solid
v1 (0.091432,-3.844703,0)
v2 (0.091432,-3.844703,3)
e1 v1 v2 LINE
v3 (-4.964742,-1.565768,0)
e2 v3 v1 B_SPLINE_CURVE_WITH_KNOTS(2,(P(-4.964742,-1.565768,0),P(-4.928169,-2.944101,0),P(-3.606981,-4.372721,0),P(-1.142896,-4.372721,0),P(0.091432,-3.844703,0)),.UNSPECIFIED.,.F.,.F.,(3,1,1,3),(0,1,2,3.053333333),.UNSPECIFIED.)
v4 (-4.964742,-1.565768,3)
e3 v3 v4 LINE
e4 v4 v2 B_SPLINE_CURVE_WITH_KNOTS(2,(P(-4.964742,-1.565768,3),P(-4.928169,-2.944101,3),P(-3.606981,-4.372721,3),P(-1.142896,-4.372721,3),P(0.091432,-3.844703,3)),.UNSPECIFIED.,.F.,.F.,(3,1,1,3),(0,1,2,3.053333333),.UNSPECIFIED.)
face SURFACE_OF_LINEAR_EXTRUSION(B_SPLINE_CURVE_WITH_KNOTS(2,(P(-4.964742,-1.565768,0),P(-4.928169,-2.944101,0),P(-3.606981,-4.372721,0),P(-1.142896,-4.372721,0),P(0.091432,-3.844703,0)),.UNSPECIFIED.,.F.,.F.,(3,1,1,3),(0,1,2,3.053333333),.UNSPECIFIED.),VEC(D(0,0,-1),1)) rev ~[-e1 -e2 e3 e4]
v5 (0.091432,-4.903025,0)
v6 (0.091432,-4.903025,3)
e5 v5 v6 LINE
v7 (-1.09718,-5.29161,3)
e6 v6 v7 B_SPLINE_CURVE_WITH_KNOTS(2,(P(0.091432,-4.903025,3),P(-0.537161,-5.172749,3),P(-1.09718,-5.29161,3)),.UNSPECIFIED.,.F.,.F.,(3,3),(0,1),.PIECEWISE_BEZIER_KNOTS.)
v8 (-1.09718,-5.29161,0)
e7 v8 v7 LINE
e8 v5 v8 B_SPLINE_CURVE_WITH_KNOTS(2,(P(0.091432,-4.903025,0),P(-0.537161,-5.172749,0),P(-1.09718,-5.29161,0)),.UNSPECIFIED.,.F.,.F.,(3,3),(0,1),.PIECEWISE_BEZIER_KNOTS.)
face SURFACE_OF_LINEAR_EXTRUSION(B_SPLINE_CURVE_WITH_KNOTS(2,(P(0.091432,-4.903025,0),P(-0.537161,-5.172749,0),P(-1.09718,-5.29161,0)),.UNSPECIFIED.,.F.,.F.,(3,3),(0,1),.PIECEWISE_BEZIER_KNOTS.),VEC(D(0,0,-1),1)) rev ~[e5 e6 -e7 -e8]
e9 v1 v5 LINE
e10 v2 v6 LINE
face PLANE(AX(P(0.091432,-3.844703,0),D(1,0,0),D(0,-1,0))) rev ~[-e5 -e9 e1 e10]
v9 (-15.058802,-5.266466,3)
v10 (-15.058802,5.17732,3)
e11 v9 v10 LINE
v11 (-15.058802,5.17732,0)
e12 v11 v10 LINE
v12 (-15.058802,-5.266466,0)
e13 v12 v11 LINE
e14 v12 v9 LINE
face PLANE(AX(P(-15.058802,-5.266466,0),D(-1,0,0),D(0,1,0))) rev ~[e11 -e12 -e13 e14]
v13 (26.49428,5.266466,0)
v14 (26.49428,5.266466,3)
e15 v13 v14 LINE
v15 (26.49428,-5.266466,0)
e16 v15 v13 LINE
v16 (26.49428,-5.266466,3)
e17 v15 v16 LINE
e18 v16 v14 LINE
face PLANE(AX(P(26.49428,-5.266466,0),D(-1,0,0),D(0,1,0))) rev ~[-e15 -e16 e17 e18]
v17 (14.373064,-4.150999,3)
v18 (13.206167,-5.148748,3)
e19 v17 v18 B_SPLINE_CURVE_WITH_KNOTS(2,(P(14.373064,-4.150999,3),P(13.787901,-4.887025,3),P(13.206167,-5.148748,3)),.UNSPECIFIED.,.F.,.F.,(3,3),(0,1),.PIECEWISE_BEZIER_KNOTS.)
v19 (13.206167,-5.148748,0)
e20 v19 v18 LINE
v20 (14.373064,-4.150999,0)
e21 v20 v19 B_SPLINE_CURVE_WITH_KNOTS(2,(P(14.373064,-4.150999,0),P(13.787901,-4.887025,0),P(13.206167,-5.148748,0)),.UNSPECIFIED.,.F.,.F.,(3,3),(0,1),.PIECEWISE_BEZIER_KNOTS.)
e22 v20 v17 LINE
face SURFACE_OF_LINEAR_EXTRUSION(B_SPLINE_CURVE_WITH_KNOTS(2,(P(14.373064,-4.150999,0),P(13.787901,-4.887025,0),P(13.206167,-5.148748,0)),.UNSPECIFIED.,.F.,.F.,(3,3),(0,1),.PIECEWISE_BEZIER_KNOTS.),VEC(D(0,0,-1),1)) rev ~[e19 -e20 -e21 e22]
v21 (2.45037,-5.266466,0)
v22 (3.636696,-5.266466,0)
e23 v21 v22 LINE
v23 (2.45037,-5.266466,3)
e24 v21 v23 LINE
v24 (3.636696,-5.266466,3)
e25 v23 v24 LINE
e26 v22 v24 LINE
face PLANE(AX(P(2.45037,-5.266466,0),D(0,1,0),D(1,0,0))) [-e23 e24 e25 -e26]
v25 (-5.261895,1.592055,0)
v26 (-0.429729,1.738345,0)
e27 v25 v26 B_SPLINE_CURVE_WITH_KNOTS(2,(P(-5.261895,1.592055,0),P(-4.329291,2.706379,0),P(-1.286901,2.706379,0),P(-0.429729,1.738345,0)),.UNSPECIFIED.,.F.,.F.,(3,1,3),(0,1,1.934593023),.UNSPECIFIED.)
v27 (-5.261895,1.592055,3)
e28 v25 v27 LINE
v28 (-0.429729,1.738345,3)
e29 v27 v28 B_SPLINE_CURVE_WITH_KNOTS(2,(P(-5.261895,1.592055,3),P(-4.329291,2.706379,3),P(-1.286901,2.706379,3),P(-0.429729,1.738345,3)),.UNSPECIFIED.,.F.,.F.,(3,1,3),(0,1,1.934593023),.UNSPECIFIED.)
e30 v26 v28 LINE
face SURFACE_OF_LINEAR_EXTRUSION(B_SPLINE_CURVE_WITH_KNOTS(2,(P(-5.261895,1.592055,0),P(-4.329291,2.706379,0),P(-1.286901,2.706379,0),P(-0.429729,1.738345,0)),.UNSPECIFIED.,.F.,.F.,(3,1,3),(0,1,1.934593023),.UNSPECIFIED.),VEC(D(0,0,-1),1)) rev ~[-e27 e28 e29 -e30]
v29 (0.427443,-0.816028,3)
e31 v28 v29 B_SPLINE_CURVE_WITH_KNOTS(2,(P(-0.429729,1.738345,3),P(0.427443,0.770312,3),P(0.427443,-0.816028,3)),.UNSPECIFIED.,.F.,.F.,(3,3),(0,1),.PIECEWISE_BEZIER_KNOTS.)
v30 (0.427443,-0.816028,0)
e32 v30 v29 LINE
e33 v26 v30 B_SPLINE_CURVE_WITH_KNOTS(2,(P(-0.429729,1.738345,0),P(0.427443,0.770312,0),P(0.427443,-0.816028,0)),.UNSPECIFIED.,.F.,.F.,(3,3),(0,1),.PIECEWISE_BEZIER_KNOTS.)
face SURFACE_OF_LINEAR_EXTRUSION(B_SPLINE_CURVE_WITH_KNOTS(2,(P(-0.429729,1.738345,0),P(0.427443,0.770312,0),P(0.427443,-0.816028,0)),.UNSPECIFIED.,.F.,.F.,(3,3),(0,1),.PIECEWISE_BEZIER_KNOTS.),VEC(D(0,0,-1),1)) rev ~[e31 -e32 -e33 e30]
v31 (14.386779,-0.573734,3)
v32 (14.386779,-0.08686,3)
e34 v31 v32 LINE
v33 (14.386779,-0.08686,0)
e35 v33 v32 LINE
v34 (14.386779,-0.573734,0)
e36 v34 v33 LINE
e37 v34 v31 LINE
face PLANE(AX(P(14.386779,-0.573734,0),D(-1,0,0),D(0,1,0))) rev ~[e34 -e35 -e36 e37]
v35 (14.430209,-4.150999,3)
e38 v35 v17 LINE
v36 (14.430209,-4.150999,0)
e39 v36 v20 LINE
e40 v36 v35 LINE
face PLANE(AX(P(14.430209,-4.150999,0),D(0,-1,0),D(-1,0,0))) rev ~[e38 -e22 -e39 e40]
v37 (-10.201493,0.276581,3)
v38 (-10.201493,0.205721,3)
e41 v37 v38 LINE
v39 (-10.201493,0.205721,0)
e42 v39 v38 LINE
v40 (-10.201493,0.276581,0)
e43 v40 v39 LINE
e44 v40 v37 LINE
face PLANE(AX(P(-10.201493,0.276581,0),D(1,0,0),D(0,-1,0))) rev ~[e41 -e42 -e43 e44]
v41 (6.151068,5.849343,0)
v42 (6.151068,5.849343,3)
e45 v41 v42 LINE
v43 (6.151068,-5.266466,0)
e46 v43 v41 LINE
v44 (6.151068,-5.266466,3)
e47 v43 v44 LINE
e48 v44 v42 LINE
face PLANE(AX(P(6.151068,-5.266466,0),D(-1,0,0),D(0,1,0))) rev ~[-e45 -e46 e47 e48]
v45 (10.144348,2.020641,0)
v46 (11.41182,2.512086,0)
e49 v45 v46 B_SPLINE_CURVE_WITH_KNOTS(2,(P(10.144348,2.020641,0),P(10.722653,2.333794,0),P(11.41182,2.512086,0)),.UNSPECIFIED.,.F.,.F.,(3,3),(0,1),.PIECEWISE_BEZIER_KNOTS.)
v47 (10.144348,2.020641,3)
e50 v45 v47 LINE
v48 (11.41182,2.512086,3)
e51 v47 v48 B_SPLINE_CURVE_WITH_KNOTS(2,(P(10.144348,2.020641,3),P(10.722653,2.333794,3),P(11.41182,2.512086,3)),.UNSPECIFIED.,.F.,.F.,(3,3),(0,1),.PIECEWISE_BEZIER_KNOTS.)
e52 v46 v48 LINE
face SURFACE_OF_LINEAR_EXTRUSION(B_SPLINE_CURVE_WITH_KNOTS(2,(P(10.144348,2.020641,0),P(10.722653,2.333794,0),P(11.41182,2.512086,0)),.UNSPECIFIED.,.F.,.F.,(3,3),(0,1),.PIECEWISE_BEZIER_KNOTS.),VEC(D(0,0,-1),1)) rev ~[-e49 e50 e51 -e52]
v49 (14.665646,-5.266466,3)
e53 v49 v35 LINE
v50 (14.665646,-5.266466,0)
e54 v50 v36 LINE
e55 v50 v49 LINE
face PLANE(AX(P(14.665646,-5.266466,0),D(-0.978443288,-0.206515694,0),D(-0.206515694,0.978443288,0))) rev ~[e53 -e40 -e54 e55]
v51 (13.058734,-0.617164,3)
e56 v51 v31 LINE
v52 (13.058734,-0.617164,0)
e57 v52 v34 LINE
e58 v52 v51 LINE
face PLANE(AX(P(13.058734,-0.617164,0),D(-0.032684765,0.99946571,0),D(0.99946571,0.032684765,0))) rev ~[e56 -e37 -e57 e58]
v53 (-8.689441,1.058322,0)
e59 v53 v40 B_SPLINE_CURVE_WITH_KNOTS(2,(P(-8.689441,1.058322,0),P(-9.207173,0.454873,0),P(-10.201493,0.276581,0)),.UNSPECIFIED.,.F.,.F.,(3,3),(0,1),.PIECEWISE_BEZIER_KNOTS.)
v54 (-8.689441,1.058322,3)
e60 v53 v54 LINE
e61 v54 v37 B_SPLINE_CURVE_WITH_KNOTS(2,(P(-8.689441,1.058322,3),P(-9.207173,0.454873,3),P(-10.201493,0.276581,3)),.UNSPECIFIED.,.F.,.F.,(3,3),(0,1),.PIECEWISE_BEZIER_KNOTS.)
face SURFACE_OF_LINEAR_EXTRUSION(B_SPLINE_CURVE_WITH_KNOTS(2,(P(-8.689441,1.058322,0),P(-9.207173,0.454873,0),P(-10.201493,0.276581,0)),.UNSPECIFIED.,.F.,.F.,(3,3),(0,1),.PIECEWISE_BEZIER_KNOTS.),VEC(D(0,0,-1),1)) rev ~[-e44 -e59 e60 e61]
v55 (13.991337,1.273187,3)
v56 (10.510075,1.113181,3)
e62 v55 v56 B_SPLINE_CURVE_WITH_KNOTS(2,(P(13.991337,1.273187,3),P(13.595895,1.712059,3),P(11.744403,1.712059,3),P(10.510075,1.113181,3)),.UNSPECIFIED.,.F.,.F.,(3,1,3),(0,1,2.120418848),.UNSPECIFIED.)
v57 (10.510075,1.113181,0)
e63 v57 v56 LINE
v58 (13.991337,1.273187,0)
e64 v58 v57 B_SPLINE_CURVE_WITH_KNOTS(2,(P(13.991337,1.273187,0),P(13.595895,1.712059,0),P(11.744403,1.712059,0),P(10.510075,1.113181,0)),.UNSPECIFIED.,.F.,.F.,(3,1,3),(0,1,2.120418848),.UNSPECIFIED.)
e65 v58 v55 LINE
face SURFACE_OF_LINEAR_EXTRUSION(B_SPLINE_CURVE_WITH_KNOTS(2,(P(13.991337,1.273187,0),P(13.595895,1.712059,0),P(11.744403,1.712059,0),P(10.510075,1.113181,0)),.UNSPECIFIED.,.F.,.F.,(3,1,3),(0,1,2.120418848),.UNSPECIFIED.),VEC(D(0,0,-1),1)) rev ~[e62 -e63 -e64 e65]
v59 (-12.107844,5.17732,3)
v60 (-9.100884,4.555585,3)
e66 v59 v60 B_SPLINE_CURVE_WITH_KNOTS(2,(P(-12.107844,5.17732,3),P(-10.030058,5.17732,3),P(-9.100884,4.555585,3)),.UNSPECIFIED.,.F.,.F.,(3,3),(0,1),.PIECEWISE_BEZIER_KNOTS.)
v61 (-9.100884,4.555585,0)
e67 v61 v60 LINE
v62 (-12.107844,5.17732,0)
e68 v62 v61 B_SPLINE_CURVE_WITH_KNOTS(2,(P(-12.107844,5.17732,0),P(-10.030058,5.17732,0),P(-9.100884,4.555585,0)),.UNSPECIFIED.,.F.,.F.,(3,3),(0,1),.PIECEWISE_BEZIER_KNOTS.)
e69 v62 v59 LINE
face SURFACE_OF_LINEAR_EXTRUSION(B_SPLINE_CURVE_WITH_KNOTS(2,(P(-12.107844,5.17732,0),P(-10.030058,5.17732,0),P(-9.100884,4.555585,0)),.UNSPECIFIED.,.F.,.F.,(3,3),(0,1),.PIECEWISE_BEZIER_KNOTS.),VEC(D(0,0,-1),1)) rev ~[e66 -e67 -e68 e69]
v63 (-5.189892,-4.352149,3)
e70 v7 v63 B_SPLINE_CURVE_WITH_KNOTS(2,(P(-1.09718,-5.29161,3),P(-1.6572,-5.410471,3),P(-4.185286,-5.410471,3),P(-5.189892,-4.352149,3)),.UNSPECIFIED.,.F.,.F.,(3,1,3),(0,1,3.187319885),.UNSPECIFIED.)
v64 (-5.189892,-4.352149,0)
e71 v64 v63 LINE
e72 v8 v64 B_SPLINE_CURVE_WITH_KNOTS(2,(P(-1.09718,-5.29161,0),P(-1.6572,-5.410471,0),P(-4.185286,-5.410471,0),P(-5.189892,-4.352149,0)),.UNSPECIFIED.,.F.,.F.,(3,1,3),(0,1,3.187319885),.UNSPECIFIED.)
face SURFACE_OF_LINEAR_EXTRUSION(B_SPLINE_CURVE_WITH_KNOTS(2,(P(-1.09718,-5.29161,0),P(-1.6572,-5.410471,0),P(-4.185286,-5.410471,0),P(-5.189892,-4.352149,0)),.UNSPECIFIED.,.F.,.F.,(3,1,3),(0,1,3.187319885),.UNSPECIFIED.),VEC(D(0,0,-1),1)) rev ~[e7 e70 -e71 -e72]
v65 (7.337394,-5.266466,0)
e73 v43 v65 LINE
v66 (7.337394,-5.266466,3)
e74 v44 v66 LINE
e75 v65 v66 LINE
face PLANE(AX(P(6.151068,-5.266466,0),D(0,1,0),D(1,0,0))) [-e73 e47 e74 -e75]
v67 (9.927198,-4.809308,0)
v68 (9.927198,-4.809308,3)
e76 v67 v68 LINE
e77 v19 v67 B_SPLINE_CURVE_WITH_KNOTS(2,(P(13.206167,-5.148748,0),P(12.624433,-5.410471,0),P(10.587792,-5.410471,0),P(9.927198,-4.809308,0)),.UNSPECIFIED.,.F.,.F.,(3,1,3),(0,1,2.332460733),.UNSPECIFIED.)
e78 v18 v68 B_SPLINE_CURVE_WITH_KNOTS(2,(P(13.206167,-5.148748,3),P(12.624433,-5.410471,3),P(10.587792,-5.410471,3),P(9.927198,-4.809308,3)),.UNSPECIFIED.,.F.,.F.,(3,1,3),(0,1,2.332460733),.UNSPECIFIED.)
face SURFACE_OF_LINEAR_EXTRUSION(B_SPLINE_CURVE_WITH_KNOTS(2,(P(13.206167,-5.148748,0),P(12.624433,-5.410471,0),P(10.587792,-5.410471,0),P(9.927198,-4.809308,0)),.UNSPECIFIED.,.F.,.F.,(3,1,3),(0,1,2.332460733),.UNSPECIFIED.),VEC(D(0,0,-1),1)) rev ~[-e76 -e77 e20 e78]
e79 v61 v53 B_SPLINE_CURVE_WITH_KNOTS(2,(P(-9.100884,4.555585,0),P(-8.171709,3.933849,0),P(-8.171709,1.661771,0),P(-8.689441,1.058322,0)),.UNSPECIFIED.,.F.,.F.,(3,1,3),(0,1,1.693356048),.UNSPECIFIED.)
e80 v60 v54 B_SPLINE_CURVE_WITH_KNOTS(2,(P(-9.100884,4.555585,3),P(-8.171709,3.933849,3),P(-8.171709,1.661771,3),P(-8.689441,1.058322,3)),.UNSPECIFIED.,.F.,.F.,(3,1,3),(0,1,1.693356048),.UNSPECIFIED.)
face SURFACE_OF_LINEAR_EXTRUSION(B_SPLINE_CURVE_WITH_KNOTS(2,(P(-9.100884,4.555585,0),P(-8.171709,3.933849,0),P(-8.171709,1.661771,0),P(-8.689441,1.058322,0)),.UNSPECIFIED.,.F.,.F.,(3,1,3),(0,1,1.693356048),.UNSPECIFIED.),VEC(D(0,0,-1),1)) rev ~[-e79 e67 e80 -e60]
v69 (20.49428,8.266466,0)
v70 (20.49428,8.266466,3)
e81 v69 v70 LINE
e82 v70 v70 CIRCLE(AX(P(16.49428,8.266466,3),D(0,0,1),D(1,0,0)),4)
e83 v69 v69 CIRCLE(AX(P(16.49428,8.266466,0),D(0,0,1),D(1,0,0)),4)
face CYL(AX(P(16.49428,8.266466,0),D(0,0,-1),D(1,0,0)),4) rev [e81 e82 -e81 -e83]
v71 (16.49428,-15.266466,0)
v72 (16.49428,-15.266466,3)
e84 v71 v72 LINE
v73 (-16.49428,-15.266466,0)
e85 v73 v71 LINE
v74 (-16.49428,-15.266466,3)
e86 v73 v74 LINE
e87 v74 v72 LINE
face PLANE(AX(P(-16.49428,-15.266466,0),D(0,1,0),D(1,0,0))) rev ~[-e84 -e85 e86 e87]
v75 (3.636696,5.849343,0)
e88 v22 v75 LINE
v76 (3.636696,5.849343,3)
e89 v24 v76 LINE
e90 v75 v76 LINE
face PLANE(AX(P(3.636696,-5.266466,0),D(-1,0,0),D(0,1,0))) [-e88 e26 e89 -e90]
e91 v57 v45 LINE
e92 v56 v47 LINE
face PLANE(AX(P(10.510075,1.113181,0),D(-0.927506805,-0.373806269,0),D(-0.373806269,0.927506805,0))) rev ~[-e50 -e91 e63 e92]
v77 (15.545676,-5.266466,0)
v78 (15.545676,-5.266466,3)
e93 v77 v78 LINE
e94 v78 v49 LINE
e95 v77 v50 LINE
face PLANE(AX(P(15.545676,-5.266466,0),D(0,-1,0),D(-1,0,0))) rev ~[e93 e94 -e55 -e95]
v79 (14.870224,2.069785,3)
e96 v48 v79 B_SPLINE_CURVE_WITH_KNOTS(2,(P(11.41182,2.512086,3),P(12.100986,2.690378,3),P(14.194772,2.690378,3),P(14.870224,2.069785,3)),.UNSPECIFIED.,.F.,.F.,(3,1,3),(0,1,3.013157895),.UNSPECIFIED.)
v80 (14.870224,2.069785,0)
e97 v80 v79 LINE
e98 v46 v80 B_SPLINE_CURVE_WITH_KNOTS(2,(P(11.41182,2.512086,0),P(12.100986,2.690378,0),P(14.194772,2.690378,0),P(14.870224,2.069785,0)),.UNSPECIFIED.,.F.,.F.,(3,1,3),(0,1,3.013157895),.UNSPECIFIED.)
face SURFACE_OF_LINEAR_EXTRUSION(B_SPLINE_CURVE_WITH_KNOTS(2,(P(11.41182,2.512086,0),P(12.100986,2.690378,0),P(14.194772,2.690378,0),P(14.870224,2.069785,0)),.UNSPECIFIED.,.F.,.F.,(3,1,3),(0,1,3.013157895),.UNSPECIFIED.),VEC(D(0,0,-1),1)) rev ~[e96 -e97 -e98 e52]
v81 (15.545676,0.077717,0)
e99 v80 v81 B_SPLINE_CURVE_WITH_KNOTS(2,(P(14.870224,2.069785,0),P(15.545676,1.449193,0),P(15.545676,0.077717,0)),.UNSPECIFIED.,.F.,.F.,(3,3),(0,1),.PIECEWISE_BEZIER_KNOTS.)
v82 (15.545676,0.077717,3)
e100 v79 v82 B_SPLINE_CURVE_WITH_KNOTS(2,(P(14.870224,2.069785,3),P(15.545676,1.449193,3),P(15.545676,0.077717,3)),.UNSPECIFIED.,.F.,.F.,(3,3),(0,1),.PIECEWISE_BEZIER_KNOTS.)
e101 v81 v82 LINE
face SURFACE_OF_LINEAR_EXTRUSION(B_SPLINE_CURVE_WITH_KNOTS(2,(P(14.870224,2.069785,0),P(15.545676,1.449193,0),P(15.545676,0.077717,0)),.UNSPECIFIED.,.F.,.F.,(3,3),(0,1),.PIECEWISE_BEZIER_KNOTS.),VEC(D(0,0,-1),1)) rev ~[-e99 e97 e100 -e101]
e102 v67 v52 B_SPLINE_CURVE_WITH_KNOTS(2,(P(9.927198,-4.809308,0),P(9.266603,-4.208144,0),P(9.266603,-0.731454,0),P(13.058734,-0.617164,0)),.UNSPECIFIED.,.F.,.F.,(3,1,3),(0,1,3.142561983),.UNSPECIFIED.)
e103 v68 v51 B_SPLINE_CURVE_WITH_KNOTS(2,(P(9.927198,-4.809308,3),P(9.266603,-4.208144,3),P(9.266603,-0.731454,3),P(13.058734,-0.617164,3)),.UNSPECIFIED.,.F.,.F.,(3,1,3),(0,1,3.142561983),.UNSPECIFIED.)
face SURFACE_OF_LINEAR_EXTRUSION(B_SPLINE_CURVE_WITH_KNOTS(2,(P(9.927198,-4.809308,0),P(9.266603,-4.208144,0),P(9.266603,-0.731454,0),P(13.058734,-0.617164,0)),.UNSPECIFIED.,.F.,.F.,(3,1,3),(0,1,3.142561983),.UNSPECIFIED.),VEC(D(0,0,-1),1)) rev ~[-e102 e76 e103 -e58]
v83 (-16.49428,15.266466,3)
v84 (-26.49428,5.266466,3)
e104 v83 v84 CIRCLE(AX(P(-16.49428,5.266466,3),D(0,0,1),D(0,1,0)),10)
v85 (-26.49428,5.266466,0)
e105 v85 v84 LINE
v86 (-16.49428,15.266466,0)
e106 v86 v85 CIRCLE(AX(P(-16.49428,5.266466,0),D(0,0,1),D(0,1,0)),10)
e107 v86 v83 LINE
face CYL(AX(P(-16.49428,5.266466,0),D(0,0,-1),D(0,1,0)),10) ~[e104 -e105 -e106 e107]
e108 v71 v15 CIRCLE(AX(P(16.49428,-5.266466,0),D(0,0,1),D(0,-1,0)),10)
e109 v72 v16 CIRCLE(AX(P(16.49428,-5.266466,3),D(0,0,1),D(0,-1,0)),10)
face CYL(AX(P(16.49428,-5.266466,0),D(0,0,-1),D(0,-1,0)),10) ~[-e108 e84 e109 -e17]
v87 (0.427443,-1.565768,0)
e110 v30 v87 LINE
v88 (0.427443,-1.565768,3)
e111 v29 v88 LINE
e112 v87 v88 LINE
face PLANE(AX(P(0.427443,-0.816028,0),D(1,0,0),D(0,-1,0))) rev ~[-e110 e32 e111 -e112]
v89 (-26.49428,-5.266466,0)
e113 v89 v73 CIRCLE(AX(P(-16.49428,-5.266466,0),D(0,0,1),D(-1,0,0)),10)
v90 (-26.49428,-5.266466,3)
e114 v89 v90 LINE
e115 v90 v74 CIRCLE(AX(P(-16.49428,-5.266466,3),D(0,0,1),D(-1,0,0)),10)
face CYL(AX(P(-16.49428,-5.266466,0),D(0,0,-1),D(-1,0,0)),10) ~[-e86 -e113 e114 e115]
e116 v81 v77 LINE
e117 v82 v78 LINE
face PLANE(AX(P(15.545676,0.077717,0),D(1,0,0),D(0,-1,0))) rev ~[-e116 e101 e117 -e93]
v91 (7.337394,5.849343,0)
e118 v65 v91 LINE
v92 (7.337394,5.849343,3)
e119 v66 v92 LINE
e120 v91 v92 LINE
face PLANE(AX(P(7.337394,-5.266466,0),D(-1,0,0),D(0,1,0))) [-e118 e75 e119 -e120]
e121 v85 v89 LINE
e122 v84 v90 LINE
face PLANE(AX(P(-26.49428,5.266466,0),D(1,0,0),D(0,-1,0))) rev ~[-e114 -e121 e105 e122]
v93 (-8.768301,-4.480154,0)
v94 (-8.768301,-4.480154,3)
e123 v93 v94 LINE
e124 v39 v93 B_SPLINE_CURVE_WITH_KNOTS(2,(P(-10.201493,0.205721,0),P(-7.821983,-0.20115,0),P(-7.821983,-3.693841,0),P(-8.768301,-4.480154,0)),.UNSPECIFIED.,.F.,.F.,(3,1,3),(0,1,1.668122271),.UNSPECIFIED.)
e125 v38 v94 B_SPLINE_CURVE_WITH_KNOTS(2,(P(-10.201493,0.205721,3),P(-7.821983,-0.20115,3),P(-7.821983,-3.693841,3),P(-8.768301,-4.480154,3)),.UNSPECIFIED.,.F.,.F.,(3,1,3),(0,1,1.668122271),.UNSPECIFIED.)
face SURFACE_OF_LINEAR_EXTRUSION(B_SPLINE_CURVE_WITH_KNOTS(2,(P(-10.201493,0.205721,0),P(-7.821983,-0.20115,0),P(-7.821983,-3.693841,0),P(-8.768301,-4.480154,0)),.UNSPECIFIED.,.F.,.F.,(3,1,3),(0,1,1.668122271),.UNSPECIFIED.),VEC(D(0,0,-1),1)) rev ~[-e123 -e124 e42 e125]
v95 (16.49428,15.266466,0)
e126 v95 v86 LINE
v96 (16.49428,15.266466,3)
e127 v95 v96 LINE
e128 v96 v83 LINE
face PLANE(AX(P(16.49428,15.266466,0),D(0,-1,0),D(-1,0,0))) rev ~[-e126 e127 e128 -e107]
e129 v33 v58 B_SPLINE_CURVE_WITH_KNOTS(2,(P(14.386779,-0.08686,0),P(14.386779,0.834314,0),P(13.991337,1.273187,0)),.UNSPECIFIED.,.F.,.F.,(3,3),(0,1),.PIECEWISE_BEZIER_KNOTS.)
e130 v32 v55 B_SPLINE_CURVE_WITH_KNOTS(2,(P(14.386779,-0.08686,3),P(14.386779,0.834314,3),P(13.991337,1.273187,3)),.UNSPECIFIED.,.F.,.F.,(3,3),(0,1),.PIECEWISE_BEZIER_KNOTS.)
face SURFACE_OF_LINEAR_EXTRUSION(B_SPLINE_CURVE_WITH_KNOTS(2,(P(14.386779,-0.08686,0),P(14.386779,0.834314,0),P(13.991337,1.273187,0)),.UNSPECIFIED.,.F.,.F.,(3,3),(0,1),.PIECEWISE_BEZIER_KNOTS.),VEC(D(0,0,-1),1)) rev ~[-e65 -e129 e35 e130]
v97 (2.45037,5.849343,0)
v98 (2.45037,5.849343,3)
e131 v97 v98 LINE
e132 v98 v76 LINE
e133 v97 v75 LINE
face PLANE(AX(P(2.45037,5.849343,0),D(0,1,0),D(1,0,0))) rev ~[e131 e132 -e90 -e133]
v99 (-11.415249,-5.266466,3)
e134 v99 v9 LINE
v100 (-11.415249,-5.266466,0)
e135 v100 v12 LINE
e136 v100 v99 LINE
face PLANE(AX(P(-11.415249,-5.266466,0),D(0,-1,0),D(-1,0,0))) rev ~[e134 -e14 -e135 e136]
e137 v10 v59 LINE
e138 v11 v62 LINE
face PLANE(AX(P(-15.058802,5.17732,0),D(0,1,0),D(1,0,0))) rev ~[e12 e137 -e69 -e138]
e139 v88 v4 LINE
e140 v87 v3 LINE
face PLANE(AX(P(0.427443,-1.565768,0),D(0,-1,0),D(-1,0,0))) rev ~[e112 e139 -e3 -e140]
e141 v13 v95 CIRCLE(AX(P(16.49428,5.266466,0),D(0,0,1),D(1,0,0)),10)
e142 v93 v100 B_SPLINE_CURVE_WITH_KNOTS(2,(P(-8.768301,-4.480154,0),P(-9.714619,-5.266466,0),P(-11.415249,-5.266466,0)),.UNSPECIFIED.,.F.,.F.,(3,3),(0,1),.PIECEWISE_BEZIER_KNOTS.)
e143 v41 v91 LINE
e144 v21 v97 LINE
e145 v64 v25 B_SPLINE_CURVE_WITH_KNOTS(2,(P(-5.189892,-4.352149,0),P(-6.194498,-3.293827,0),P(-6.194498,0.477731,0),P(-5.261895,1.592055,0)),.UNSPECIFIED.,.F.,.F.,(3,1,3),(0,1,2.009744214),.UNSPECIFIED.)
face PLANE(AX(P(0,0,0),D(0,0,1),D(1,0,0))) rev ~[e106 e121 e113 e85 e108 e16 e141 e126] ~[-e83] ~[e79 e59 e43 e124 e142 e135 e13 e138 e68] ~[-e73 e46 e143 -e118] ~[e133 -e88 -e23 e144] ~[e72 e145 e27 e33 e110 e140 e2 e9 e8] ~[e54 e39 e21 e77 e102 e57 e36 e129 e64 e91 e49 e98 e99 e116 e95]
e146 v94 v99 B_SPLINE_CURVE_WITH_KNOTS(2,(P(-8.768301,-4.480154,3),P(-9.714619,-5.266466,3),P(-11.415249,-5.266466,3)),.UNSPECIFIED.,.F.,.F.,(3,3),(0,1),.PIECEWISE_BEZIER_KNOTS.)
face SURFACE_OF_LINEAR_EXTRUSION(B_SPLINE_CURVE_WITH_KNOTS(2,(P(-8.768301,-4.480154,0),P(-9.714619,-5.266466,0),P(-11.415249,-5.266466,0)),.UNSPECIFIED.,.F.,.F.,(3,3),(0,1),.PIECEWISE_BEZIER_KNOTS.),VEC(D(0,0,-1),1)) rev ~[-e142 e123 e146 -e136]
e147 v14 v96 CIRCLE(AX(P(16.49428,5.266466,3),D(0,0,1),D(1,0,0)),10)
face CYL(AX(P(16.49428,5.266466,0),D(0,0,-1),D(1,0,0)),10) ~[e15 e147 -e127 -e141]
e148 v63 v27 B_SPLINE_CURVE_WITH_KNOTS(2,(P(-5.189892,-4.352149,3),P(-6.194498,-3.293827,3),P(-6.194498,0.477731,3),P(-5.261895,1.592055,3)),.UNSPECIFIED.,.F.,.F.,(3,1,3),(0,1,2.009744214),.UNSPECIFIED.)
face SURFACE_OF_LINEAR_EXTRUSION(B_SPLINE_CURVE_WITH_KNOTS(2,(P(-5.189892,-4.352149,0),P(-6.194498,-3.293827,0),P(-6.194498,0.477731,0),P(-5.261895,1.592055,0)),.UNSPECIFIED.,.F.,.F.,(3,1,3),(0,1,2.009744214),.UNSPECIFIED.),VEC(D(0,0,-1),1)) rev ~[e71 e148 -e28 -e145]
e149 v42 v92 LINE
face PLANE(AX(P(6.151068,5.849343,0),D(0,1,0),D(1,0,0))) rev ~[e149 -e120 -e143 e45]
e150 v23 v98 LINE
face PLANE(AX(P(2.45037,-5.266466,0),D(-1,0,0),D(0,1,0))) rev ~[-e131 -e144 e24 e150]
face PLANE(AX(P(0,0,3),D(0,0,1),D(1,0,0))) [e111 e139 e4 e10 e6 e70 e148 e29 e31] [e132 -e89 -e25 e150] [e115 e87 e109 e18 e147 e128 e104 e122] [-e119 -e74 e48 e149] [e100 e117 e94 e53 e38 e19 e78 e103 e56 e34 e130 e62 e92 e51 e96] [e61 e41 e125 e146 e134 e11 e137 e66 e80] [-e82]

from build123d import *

# Parameters (mm, degrees)
F0_W     = 1.1863263941
F0_H     = 11.1158097386
F0_R     = 4
F1_DEPTH = 3


with BuildPart() as f1:
    # F0 (on Top) → F1 (new body)
    with BuildSketch(Plane.XY):
        with BuildLine():
            ThreePointArc((26.4942798836, 5.2664663043), (23.5653476954, 12.3375341161), (16.4942798836, 15.2664663043))
            Line((16.4942798836, 15.2664663043), (-16.4942798836, 15.2664663043))
            ThreePointArc((-16.4942798836, 15.2664663043), (-23.5653476954, 12.3375341161), (-26.4942798836, 5.2664663043))
            Line((-26.4942798836, 5.2664663043), (-26.4942798836, -5.2664663043))
            ThreePointArc((-26.4942798836, -5.2664663043), (-23.5653476954, -12.3375341161), (-16.4942798836, -15.2664663043))
            Line((-16.4942798836, -15.2664663043), (16.4942798836, -15.2664663043))
            ThreePointArc((16.4942798836, -15.2664663043), (23.5653476954, -12.3375341161), (26.4942798836, -5.2664663043))
            Line((26.4942798836, -5.2664663043), (26.4942798836, 5.2664663043))
        make_face()
        with BuildLine():
            Line((-15.0588020888, -5.2664663043), (-15.0588020888, 5.1773203903))
            Line((-15.0588020888, 5.1773203903), (-12.107843756, 5.1773203903))
            add(Edge.make_bspline(
                [(-12.107843756, 5.1773203903), (-10.0300582219, 5.1773203903), (-9.1008835028, 4.5555847849)],
                knots=[0, 0, 0, 1, 1, 1], degree=2))
            add(Edge.make_bspline(
                [(-9.1008835028, 4.5555847849), (-8.1717087838, 3.9338491795), (-8.1717087838, 2.5920888841)],
                knots=[0, 0, 0, 1, 1, 1], degree=2))
            add(Edge.make_bspline(
                [(-8.1717087838, 2.5920888841), (-8.1717087838, 1.6617712688), (-8.6894408228, 1.0583220047)],
                knots=[0, 0, 0, 1, 1, 1], degree=2))
            add(Edge.make_bspline(
                [(-8.6894408228, 1.0583220047), (-9.2071728618, 0.4548727407), (-10.2014926719, 0.2765809127)],
                knots=[0, 0, 0, 1, 1, 1], degree=2))
            Line((-10.2014926719, 0.2765809127), (-10.2014926719, 0.20572134))
            add(Edge.make_bspline(
                [(-10.2014926719, 0.20572134), (-7.8219825058, -0.2011497547), (-7.8219825058, -2.2949358375)],
                knots=[0, 0, 0, 1, 1, 1], degree=2))
            add(Edge.make_bspline(
                [(-7.8219825058, -2.2949358375), (-7.8219825058, -3.6938409495), (-8.7683006698, -4.4801536269)],
                knots=[0, 0, 0, 1, 1, 1], degree=2))
            add(Edge.make_bspline(
                [(-8.7683006698, -4.4801536269), (-9.7146188339, -5.2664663043), (-11.4152485779, -5.2664663043)],
                knots=[0, 0, 0, 1, 1, 1], degree=2))
            Line((-11.4152485779, -5.2664663043), (-15.0588020888, -5.2664663043))
        make_face(mode=Mode.SUBTRACT)
        with BuildLine():
            add(Edge.make_bspline(
                [(-1.0971804801, -5.2916100236), (-1.6571996834, -5.4104712423), (-2.4503697388, -5.4104712423)],
                knots=[0, 0, 0, 1, 1, 1], degree=2))
            add(Edge.make_bspline(
                [(-2.4503697388, -5.4104712423), (-4.1852863729, -5.4104712423), (-5.1898922499, -4.3521492376)],
                knots=[0, 0, 0, 1, 1, 1], degree=2))
            add(Edge.make_bspline(
                [(-5.1898922499, -4.3521492376), (-6.194498127, -3.2938272328), (-6.194498127, -1.4171914534)],
                knots=[0, 0, 0, 1, 1, 1], degree=2))
            add(Edge.make_bspline(
                [(-6.194498127, -1.4171914534), (-6.194498127, 0.4777306674), (-5.261894719, 1.5920545924)],
                knots=[0, 0, 0, 1, 1, 1], degree=2))
            add(Edge.make_bspline(
                [(-5.261894719, 1.5920545924), (-4.3292913109, 2.7063785175), (-2.7566659561, 2.7063785175)],
                knots=[0, 0, 0, 1, 1, 1], degree=2))
            add(Edge.make_bspline(
                [(-2.7566659561, 2.7063785175), (-1.2869012714, 2.7063785175), (-0.4297290214, 1.7383453231)],
                knots=[0, 0, 0, 1, 1, 1], degree=2))
            add(Edge.make_bspline(
                [(-0.4297290214, 1.7383453231), (0.4274432287, 0.7703121287), (0.4274432287, -0.816027982)],
                knots=[0, 0, 0, 1, 1, 1], degree=2))
            Line((0.4274432287, -0.816027982), (0.4274432287, -1.5657679768))
            Line((0.4274432287, -1.5657679768), (-4.9647416723, -1.5657679768))
            add(Edge.make_bspline(
                [(-4.9647416723, -1.5657679768), (-4.9281689896, -2.9441009548), (-4.2675749089, -3.6584111632)],
                knots=[0, 0, 0, 1, 1, 1], degree=2))
            add(Edge.make_bspline(
                [(-4.2675749089, -3.6584111632), (-3.6069808282, -4.3727213716), (-2.4069396781, -4.3727213716)],
                knots=[0, 0, 0, 1, 1, 1], degree=2))
            add(Edge.make_bspline(
                [(-2.4069396781, -4.3727213716), (-1.1428963334, -4.3727213716), (0.0914317067, -3.8447032655)],
                knots=[0, 0, 0, 1, 1, 1], degree=2))
            Line((0.0914317067, -3.8447032655), (0.0914317067, -4.9030252703))
            add(Edge.make_bspline(
                [(0.0914317067, -4.9030252703), (-0.5371612767, -5.1727488049), (-1.0971804801, -5.2916100236)],
                knots=[0, 0, 0, 1, 1, 1], degree=2))
        make_face(mode=Mode.SUBTRACT)
        with BuildLine():
            Line((15.5456759268, -5.2664663043), (14.6656457501, -5.2664663043))
            Line((14.6656457501, -5.2664663043), (14.4302091054, -4.1509994829))
            Line((14.4302091054, -4.1509994829), (14.3730642888, -4.1509994829))
            add(Edge.make_bspline(
                [(14.3730642888, -4.1509994829), (13.7879013661, -4.8870247216), (13.2061671324, -5.1487479819)],
                knots=[0, 0, 0, 1, 1, 1], degree=2))
            add(Edge.make_bspline(
                [(13.2061671324, -5.1487479819), (12.6244328987, -5.4104712423), (11.7512601, -5.4104712423)],
                knots=[0, 0, 0, 1, 1, 1], degree=2))
            add(Edge.make_bspline(
                [(11.7512601, -5.4104712423), (10.5877916326, -5.4104712423), (9.9271975519, -4.8093077709)],
                knots=[0, 0, 0, 1, 1, 1], degree=2))
            add(Edge.make_bspline(
                [(9.9271975519, -4.8093077709), (9.2666034712, -4.2081442996), (9.2666034712, -3.1018206488)],
                knots=[0, 0, 0, 1, 1, 1], degree=2))
            add(Edge.make_bspline(
                [(9.2666034712, -3.1018206488), (9.2666034712, -0.7314536534), (13.0587335054, -0.61716402)],
                knots=[0, 0, 0, 1, 1, 1], degree=2))
            Line((13.0587335054, -0.61716402), (14.3867790448, -0.5737339594))
            Line((14.3867790448, -0.5737339594), (14.3867790448, -0.0868601213))
            add(Edge.make_bspline(
                [(14.3867790448, -0.0868601213), (14.3867790448, 0.8343143234), (13.9913369134, 1.2731865154)],
                knots=[0, 0, 0, 1, 1, 1], degree=2))
            add(Edge.make_bspline(
                [(13.9913369134, 1.2731865154), (13.5958947821, 1.7120587074), (12.7227219834, 1.7120587074)],
                knots=[0, 0, 0, 1, 1, 1], degree=2))
            add(Edge.make_bspline(
                [(12.7227219834, 1.7120587074), (11.744402722, 1.7120587074), (10.5100746819, 1.1131810287)],
                knots=[0, 0, 0, 1, 1, 1], degree=2))
            Line((10.5100746819, 1.1131810287), (10.1443478552, 2.0206407174))
            add(Edge.make_bspline(
                [(10.1443478552, 2.0206407174), (10.7226533999, 2.3337943128), (11.4118198889, 2.5120861408)],
                knots=[0, 0, 0, 1, 1, 1], degree=2))
            add(Edge.make_bspline(
                [(11.4118198889, 2.5120861408), (12.100986378, 2.6903779688), (12.7958673487, 2.6903779688)],
                knots=[0, 0, 0, 1, 1, 1], degree=2))
            add(Edge.make_bspline(
                [(12.7958673487, 2.6903779688), (14.1947724608, 2.6903779688), (14.8702241938, 2.0697852598)],
                knots=[0, 0, 0, 1, 1, 1], degree=2))
            add(Edge.make_bspline(
                [(14.8702241938, 2.0697852598), (15.5456759268, 1.4491925507), (15.5456759268, 0.0777169507)],
                knots=[0, 0, 0, 1, 1, 1], degree=2))
            Line((15.5456759268, 0.0777169507), (15.5456759268, -5.2664663043))
        make_face(mode=Mode.SUBTRACT)
        with Locations((3.0435329358, 0.291438565)):
            Rectangle(F0_W, F0_H, mode=Mode.SUBTRACT)
        with Locations((6.7442312634, 0.291438565)):
            Rectangle(F0_W, F0_H, mode=Mode.SUBTRACT)
        with Locations((16.4942798836, 8.2664663043)):
            Circle(F0_R, mode=Mode.SUBTRACT)
    extrude(amount=F1_DEPTH)


solid = f1.part
